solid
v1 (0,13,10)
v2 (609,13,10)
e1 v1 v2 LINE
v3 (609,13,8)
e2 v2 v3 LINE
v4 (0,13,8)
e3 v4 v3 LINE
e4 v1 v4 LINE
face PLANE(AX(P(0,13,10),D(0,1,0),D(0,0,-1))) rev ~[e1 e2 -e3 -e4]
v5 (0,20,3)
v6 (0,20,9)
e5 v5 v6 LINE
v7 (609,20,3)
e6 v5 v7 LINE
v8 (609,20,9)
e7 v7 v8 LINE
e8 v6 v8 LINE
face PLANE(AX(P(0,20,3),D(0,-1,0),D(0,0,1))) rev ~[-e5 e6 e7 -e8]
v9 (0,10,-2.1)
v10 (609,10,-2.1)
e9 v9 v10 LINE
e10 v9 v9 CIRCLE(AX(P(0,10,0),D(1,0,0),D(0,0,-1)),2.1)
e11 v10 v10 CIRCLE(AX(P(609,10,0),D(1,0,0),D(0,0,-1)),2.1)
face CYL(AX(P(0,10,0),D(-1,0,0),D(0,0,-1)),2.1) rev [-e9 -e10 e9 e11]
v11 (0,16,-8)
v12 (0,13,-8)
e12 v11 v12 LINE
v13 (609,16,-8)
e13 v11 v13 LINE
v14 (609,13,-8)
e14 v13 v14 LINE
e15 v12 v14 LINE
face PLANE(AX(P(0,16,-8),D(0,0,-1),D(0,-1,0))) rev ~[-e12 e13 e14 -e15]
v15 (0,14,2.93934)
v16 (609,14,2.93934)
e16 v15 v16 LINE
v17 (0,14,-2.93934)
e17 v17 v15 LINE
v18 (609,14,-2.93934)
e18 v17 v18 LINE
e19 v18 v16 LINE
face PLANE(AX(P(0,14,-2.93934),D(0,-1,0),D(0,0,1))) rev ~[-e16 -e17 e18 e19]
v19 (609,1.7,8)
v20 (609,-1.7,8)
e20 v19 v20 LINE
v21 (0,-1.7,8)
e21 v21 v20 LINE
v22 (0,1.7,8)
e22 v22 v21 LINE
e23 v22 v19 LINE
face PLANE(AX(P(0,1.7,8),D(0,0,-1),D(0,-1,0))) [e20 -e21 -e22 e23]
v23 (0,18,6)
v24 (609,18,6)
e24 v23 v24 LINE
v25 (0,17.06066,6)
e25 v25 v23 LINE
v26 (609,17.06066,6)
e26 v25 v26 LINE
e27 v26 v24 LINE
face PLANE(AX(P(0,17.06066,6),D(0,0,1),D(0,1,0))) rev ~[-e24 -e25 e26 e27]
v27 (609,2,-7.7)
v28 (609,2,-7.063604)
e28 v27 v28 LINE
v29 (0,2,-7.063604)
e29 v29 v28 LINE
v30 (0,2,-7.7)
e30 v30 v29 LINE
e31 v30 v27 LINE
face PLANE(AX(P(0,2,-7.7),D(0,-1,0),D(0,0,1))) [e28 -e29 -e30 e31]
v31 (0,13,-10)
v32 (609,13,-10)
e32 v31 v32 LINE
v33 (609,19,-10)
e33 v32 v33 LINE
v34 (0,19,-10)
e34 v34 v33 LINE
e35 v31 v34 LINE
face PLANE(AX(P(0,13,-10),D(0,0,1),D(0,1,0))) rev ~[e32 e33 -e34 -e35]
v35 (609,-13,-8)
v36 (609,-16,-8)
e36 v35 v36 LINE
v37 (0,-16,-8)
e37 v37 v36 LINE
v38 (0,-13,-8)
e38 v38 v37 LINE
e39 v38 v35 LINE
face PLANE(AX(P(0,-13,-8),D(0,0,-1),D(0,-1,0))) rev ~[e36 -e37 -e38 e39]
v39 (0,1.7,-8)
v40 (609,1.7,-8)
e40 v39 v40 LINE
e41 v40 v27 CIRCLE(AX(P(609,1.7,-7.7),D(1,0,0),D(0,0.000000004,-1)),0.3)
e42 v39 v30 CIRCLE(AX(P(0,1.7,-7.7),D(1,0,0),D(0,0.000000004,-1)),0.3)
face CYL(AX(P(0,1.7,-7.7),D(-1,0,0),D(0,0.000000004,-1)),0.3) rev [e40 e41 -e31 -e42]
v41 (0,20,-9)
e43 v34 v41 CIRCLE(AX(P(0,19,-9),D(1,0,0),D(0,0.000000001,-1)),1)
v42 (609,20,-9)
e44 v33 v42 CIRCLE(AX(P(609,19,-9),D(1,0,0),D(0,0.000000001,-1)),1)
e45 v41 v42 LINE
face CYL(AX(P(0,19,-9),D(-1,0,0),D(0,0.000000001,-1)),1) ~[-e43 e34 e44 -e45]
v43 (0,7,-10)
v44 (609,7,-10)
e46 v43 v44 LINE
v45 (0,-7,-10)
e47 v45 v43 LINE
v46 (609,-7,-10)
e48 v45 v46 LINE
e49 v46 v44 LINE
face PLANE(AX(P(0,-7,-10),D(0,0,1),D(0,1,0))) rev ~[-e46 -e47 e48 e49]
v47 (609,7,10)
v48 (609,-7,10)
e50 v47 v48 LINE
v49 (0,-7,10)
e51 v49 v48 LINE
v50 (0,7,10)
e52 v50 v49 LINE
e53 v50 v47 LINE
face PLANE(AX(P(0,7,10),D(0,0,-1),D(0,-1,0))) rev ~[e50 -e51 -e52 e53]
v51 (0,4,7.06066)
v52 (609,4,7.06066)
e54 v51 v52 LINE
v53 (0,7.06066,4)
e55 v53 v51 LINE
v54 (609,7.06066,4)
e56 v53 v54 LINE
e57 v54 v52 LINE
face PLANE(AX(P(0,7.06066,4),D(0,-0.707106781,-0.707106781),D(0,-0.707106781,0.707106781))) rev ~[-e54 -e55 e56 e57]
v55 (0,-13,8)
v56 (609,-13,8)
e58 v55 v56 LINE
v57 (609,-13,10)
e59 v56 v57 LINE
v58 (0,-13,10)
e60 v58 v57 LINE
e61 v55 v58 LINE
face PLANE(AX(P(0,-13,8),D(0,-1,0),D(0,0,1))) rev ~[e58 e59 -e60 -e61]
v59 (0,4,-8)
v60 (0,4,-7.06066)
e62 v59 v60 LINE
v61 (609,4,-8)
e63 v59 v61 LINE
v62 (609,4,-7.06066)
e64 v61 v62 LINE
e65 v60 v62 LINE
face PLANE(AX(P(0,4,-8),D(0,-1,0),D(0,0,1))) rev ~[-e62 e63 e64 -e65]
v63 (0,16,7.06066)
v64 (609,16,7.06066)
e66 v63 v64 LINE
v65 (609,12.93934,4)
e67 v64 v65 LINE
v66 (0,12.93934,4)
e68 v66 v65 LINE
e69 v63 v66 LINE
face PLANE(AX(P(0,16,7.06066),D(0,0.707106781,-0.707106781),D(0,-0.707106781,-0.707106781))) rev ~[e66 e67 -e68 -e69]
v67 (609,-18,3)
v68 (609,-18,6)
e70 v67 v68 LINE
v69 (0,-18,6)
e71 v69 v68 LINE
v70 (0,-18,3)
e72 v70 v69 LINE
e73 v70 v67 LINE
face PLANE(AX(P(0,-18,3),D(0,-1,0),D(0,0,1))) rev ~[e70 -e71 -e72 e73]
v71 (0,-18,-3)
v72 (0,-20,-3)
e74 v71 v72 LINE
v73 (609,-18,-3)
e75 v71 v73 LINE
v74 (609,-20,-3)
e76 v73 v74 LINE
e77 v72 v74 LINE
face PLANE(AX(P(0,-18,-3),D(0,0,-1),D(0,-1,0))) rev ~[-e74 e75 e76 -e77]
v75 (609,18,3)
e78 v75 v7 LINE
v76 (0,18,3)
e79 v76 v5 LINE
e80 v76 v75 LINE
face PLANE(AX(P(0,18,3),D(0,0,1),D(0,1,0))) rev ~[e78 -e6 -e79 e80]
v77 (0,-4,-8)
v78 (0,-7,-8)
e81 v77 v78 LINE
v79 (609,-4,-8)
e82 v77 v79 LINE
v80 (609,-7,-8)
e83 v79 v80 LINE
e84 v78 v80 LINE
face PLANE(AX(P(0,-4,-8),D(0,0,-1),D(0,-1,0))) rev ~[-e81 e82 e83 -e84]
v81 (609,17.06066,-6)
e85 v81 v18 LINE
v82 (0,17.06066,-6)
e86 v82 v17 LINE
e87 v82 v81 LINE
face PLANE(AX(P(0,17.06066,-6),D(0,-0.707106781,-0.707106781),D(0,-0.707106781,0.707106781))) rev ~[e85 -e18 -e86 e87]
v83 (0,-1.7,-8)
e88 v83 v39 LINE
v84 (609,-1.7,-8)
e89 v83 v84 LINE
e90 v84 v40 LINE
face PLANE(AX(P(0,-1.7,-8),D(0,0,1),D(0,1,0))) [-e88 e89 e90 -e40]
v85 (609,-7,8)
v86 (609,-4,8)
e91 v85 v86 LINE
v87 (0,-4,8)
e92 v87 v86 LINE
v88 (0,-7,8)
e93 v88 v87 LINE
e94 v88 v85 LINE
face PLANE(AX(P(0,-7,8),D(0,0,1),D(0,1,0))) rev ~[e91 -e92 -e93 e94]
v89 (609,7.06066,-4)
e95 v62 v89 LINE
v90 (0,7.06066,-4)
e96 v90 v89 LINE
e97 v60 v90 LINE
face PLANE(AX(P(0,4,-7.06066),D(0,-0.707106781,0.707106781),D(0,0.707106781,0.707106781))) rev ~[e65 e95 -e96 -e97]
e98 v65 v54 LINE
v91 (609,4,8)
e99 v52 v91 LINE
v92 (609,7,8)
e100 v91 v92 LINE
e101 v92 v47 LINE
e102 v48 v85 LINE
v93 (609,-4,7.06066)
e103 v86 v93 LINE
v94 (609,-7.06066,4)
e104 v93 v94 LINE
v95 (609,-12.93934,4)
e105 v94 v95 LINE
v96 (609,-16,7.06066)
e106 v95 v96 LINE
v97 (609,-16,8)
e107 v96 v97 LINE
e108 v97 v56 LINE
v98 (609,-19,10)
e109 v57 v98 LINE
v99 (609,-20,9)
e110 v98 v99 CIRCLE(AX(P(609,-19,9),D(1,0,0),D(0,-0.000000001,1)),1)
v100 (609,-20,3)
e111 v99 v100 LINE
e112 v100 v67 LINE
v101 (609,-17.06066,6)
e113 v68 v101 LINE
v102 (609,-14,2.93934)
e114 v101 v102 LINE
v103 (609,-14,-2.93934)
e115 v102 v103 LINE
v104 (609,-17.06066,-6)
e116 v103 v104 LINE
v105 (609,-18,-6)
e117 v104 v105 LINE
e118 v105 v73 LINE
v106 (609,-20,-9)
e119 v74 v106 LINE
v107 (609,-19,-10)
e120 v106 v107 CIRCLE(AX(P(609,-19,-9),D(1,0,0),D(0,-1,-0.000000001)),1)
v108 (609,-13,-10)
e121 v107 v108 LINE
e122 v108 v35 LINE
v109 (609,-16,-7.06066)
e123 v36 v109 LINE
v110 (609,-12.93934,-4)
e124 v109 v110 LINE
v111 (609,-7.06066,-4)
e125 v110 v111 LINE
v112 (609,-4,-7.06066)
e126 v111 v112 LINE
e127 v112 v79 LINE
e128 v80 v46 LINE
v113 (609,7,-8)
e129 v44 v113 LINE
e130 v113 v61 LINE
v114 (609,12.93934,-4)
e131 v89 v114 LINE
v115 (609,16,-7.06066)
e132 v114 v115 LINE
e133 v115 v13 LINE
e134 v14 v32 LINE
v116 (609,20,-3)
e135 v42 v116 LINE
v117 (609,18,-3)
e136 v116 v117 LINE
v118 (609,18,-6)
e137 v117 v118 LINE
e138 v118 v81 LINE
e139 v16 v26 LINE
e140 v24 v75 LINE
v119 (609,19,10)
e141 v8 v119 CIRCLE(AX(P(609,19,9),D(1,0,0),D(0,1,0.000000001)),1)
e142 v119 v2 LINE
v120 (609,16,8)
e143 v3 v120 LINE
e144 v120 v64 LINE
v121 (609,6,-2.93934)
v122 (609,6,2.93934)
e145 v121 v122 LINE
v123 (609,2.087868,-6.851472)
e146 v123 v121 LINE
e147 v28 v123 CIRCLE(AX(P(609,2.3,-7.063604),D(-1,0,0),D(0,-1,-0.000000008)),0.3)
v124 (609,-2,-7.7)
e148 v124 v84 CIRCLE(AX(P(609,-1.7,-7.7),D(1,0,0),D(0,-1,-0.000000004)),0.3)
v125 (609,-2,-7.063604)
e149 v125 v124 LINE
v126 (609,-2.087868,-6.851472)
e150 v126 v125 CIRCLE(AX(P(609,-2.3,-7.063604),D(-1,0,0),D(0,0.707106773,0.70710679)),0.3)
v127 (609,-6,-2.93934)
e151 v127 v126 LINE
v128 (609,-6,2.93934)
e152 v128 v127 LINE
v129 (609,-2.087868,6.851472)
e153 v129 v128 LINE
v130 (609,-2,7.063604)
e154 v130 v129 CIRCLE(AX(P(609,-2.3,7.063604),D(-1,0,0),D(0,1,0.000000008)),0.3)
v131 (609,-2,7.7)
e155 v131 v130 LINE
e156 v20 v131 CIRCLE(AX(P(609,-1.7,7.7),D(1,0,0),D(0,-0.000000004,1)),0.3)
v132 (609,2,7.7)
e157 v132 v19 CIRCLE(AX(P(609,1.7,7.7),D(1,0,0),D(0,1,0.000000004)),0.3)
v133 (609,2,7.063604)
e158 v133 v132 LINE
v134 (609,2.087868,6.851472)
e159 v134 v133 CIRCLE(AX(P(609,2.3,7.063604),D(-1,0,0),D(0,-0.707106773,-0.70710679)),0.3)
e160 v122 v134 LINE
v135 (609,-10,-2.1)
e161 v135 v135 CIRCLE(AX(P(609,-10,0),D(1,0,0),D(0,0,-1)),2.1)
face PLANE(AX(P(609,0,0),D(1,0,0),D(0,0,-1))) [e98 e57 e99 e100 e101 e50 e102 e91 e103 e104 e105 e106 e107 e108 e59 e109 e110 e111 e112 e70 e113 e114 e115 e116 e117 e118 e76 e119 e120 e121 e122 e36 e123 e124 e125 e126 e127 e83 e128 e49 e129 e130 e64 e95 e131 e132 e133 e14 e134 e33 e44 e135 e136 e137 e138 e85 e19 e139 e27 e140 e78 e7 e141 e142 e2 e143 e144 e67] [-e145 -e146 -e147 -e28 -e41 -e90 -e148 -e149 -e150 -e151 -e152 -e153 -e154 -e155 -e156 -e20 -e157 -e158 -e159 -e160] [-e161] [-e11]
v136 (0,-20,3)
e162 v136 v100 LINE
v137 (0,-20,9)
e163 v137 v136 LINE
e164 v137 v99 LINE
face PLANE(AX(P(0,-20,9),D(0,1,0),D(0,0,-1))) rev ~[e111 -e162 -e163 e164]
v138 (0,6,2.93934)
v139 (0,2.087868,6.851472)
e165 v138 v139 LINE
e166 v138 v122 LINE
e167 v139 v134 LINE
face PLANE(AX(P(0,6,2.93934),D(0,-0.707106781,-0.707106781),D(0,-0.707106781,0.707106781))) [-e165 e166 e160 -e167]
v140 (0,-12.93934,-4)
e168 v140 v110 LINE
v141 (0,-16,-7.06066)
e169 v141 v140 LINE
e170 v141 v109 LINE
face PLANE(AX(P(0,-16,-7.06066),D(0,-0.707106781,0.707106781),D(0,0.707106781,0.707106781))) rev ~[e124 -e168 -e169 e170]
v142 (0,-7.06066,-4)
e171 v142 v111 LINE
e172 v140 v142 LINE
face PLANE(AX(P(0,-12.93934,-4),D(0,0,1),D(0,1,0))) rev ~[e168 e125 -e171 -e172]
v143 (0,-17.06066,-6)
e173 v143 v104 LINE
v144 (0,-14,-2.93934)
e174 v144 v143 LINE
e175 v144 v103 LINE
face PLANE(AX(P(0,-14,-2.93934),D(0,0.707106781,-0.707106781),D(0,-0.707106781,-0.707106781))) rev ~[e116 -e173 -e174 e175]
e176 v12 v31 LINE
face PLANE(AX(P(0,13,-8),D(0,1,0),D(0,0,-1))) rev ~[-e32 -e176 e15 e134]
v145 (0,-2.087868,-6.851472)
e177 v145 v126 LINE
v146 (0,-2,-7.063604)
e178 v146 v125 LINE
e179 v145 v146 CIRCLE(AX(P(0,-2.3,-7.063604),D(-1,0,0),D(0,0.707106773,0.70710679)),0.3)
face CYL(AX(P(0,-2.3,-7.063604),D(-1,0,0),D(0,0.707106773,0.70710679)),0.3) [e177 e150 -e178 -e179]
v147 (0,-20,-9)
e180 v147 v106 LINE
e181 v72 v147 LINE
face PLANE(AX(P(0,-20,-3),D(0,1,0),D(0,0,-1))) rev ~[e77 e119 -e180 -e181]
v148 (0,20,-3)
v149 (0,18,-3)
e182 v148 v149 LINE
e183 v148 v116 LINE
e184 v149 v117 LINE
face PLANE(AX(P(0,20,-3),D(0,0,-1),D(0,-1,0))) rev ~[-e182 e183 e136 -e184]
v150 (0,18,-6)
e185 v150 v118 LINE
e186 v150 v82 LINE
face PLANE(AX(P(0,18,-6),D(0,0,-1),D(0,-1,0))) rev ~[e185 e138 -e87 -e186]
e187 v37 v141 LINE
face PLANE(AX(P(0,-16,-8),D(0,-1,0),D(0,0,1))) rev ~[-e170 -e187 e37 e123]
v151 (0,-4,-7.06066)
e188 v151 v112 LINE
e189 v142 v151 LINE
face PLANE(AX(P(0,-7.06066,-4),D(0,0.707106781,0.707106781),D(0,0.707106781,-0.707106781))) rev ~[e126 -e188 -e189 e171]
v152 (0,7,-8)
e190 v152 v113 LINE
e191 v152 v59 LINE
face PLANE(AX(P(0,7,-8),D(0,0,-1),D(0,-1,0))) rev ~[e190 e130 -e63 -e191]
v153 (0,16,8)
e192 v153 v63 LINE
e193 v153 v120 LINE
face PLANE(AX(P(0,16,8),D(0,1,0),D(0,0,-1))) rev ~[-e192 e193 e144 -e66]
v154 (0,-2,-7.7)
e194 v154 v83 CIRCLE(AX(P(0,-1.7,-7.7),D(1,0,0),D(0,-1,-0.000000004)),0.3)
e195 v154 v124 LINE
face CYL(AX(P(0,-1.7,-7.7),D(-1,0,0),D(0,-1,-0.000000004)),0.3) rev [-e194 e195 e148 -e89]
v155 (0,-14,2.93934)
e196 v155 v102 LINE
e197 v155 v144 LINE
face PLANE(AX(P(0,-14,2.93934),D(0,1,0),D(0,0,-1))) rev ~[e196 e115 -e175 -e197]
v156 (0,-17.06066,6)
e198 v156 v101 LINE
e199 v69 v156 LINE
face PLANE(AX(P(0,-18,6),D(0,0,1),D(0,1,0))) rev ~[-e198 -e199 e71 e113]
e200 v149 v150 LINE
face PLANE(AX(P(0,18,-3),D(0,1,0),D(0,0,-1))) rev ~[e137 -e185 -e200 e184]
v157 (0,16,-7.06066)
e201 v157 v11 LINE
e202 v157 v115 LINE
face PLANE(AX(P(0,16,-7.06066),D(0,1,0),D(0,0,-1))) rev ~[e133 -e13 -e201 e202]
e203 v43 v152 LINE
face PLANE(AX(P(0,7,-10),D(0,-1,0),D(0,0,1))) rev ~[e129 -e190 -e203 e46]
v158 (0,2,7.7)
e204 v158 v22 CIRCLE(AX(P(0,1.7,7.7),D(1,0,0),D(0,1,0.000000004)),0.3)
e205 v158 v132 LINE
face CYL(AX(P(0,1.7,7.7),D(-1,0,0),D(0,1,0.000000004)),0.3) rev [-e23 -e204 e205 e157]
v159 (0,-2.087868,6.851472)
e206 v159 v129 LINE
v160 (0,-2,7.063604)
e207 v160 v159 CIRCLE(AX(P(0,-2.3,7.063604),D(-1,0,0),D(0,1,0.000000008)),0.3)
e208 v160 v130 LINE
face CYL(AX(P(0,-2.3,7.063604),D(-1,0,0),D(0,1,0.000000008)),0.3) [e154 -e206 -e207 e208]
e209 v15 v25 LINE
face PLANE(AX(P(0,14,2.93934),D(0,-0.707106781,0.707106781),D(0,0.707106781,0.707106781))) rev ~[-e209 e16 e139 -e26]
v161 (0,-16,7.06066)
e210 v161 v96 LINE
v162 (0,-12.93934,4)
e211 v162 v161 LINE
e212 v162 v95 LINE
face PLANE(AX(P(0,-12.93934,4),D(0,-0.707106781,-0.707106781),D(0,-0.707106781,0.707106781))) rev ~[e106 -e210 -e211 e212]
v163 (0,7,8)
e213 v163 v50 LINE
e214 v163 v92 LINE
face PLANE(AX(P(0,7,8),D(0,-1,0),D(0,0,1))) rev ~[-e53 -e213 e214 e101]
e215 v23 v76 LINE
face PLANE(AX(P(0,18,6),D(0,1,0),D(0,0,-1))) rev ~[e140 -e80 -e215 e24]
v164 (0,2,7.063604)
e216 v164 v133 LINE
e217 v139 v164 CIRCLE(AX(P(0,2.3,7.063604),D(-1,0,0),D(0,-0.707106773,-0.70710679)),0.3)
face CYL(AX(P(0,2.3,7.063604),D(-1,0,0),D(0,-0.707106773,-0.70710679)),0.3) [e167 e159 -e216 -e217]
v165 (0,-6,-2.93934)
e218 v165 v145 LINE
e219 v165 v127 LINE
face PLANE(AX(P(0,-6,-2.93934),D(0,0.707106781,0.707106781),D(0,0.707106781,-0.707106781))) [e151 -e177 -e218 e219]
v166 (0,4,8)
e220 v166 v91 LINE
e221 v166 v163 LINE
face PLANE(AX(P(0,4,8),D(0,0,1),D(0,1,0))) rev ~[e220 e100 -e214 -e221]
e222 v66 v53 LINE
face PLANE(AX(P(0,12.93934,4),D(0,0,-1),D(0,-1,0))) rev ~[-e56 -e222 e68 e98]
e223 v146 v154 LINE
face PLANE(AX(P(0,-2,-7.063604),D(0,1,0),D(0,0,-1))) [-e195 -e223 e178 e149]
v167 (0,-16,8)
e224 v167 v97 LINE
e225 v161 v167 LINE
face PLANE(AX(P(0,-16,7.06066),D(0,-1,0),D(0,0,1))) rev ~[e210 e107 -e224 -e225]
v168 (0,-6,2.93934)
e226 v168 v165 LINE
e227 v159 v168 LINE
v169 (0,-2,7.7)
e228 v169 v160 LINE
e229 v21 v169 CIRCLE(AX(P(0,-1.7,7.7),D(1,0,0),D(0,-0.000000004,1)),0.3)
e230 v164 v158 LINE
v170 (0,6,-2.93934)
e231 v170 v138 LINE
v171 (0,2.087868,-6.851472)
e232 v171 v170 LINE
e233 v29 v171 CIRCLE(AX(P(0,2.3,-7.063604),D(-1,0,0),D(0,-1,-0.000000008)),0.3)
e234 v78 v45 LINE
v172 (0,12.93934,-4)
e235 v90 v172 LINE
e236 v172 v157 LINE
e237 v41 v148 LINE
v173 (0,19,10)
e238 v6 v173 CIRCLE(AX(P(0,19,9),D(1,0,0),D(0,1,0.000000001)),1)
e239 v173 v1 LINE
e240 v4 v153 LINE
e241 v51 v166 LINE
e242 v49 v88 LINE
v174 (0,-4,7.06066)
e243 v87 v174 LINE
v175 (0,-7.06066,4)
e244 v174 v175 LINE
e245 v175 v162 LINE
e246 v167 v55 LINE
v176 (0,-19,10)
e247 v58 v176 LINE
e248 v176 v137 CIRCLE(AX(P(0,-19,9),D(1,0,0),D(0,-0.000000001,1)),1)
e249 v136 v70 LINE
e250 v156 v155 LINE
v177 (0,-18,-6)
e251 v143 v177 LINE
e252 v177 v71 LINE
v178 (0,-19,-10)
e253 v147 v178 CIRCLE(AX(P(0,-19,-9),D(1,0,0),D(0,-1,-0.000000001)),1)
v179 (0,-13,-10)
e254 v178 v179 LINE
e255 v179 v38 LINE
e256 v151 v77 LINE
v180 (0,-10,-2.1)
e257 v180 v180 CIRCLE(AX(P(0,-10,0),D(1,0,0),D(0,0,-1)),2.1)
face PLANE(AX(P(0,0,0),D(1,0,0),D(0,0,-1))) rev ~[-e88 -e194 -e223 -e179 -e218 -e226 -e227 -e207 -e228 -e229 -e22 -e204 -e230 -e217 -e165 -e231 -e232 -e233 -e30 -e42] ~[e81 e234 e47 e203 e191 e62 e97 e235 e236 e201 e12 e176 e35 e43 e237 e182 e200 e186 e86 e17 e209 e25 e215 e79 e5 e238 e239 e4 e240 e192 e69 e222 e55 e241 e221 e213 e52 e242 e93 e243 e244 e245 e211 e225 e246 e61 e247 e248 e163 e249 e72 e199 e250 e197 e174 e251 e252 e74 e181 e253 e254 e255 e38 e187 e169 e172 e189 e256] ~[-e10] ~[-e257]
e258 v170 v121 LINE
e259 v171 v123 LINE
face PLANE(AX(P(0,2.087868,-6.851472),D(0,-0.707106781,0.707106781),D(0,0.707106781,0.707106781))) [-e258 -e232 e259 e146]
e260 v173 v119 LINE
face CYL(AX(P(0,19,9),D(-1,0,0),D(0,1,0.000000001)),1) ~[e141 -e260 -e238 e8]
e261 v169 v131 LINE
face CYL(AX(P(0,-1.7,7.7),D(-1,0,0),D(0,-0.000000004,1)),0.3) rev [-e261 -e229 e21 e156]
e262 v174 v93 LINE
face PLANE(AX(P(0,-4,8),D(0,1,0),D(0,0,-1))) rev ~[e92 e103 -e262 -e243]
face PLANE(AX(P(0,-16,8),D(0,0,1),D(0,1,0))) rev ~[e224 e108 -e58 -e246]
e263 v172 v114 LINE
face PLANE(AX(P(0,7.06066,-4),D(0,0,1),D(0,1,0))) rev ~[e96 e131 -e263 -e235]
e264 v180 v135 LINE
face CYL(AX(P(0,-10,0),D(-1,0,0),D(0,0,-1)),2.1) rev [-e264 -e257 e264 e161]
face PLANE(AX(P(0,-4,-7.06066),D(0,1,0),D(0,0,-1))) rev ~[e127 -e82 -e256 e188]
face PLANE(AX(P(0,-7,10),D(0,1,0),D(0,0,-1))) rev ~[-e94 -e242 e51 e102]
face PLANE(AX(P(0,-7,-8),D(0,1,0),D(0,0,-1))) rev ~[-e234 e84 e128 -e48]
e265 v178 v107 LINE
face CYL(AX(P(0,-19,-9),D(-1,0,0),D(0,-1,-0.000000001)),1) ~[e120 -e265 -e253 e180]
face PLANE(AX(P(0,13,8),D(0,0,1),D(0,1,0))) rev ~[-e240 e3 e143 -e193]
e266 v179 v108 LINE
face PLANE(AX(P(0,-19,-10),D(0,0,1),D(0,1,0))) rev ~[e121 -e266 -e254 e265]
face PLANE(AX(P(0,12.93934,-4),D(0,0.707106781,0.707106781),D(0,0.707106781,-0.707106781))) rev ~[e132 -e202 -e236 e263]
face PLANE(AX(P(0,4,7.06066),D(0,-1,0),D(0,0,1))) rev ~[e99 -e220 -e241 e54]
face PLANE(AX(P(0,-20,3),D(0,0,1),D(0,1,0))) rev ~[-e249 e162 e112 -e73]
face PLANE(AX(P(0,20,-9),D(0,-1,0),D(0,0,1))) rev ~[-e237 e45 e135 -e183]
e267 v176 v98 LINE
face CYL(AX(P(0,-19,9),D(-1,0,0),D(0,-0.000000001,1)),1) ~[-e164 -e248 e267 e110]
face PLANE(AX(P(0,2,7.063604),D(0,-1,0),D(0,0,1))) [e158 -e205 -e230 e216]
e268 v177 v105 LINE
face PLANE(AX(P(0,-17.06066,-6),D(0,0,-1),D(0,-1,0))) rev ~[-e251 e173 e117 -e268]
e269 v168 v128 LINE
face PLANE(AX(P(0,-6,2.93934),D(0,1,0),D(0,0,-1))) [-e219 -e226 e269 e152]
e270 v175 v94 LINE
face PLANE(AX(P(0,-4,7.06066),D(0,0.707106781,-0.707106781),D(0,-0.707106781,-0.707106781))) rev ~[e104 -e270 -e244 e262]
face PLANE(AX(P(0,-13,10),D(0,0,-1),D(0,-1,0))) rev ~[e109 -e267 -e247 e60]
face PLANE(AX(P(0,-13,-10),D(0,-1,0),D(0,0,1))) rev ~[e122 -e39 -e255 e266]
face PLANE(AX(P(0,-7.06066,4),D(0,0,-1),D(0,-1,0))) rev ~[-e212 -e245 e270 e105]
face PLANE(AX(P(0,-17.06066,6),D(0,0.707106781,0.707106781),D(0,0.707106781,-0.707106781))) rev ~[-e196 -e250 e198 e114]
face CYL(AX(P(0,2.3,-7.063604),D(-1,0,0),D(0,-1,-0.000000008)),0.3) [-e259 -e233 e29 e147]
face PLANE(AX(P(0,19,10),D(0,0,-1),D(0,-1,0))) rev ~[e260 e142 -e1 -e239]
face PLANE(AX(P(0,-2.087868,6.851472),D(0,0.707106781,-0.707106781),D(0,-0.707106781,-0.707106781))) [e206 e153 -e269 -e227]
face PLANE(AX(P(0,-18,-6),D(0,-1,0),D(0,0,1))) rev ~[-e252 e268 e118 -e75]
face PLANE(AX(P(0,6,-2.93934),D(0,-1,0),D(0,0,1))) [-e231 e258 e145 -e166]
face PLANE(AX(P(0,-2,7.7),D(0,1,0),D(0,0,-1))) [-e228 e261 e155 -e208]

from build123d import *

# Parameters (mm, degrees)
SKETCH1_R           = 2.1
BOSS_EXTRUDE1_DEPTH = 609


with BuildPart() as part:
    # Sketch1 → Boss-Extrude1 (new body)
    with BuildSketch(Plane(origin=(0, 0, 0), x_dir=(0, 0, -1), z_dir=(1, 0, 0))):
        with BuildLine():
            Line((-10, -13), (-10, -19))
            ThreePointArc((-10, -19), (-9.707106781, -19.707106781), (-9, -20))
            Line((-9, -20), (-3, -20))
            Line((-3, -20), (-3, -18))
            Line((-3, -18), (-6, -18))
            Line((-6, -18), (-6, -17.060660172))
            Line((-6, -17.060660172), (-2.939339828, -14))
            Line((-2.939339828, -14), (2.939339828, -14))
            Line((2.939339828, -14), (6, -17.060660172))
            Line((6, -17.060660172), (6, -18))
            Line((6, -18), (3, -18))
            Line((3, -18), (3, -20))
            Line((3, -20), (9, -20))
            ThreePointArc((9, -20), (9.707106781, -19.707106781), (10, -19))
            Line((10, -19), (10, -13))
            Line((10, -13), (8, -13))
            Line((8, -13), (8, -16))
            Line((8, -16), (7.060660172, -16))
            Line((7.060660172, -16), (4, -12.939339828))
            Line((4, -12.939339828), (4, -7.060660172))
            Line((4, -7.060660172), (7.060660172, -4))
            Line((7.060660172, -4), (8, -4))
            Line((8, -4), (8, -7))
            Line((8, -7), (10, -7))
            Line((10, -7), (10, 7))
            Line((10, 7), (8, 7))
            Line((8, 7), (8, 4))
            Line((8, 4), (7.060660172, 4))
            Line((7.060660172, 4), (4, 7.060660172))
            Line((4, 7.060660172), (4, 12.939339828))
            Line((4, 12.939339828), (7.060660172, 16))
            Line((7.060660172, 16), (8, 16))
            Line((8, 16), (8, 13))
            Line((8, 13), (10, 13))
            Line((10, 13), (10, 19))
            ThreePointArc((10, 19), (9.707106781, 19.707106781), (9, 20))
            Line((9, 20), (3, 20))
            Line((3, 20), (3, 18))
            Line((3, 18), (6, 18))
            Line((6, 18), (6, 17.060660172))
            Line((6, 17.060660172), (2.939339828, 14))
            Line((2.939339828, 14), (-2.939339828, 14))
            Line((-2.939339828, 14), (-6, 17.060660172))
            Line((-6, 17.060660172), (-6, 18))
            Line((-6, 18), (-3, 18))
            Line((-3, 18), (-3, 20))
            Line((-3, 20), (-9, 20))
            ThreePointArc((-9, 20), (-9.707106781, 19.707106781), (-10, 19))
            Line((-10, 19), (-10, 13))
            Line((-10, 13), (-8, 13))
            Line((-8, 13), (-8, 16))
            Line((-8, 16), (-7.060660172, 16))
            Line((-7.060660172, 16), (-4, 12.939339828))
            Line((-4, 12.939339828), (-4, 7.060660172))
            Line((-4, 7.060660172), (-7.060660172, 4))
            Line((-7.060660172, 4), (-8, 4))
            Line((-8, 4), (-8, 7))
            Line((-8, 7), (-10, 7))
            Line((-10, 7), (-10, -7))
            Line((-10, -7), (-8, -7))
            Line((-8, -7), (-8, -4))
            Line((-8, -4), (-7.060660172, -4))
            Line((-7.060660172, -4), (-4, -7.060660172))
            Line((-4, -7.060660172), (-4, -12.939339828))
            Line((-4, -12.939339828), (-7.060660172, -16))
            Line((-7.060660172, -16), (-8, -16))
            Line((-8, -16), (-8, -13))
            Line((-8, -13), (-10, -13))
        make_face()
        with Locations((0, 10)):
            Circle(SKETCH1_R, mode=Mode.SUBTRACT)
        with Locations((0, -10)):
            Circle(SKETCH1_R, mode=Mode.SUBTRACT)
        with BuildLine():
            Line((-8, 1.7), (-8, -1.7))
            ThreePointArc((-8, -1.7), (-7.912132034, -1.912132034), (-7.7, -2))
            Line((-7.7, -2), (-7.063603897, -2))
            ThreePointArc((-7.063603897, -2), (-6.948798867, -2.02283614), (-6.851471863, -2.087867966))
            Line((-6.851471863, -2.087867966), (-2.939339828, -6))
            Line((-2.939339828, -6), (2.939339828, -6))
            Line((2.939339828, -6), (6.851471863, -2.087867966))
            ThreePointArc((6.851471863, -2.087867966), (6.948798867, -2.02283614), (7.063603897, -2))
            Line((7.063603897, -2), (7.7, -2))
            ThreePointArc((7.7, -2), (7.912132034, -1.912132034), (8, -1.7))
            Line((8, -1.7), (8, 1.7))
            ThreePointArc((8, 1.7), (7.912132034, 1.912132034), (7.7, 2))
            Line((7.7, 2), (7.063603897, 2))
            ThreePointArc((7.063603897, 2), (6.948798867, 2.02283614), (6.851471863, 2.087867966))
            Line((6.851471863, 2.087867966), (2.939339828, 6))
            Line((2.939339828, 6), (-2.939339828, 6))
            Line((-2.939339828, 6), (-6.851471863, 2.087867966))
            ThreePointArc((-6.851471863, 2.087867966), (-6.948798867, 2.02283614), (-7.063603897, 2))
            Line((-7.063603897, 2), (-7.7, 2))
            ThreePointArc((-7.7, 2), (-7.912132034, 1.912132034), (-8, 1.7))
        make_face(mode=Mode.SUBTRACT)
    extrude(amount=BOSS_EXTRUDE1_DEPTH)


solid = part.part
